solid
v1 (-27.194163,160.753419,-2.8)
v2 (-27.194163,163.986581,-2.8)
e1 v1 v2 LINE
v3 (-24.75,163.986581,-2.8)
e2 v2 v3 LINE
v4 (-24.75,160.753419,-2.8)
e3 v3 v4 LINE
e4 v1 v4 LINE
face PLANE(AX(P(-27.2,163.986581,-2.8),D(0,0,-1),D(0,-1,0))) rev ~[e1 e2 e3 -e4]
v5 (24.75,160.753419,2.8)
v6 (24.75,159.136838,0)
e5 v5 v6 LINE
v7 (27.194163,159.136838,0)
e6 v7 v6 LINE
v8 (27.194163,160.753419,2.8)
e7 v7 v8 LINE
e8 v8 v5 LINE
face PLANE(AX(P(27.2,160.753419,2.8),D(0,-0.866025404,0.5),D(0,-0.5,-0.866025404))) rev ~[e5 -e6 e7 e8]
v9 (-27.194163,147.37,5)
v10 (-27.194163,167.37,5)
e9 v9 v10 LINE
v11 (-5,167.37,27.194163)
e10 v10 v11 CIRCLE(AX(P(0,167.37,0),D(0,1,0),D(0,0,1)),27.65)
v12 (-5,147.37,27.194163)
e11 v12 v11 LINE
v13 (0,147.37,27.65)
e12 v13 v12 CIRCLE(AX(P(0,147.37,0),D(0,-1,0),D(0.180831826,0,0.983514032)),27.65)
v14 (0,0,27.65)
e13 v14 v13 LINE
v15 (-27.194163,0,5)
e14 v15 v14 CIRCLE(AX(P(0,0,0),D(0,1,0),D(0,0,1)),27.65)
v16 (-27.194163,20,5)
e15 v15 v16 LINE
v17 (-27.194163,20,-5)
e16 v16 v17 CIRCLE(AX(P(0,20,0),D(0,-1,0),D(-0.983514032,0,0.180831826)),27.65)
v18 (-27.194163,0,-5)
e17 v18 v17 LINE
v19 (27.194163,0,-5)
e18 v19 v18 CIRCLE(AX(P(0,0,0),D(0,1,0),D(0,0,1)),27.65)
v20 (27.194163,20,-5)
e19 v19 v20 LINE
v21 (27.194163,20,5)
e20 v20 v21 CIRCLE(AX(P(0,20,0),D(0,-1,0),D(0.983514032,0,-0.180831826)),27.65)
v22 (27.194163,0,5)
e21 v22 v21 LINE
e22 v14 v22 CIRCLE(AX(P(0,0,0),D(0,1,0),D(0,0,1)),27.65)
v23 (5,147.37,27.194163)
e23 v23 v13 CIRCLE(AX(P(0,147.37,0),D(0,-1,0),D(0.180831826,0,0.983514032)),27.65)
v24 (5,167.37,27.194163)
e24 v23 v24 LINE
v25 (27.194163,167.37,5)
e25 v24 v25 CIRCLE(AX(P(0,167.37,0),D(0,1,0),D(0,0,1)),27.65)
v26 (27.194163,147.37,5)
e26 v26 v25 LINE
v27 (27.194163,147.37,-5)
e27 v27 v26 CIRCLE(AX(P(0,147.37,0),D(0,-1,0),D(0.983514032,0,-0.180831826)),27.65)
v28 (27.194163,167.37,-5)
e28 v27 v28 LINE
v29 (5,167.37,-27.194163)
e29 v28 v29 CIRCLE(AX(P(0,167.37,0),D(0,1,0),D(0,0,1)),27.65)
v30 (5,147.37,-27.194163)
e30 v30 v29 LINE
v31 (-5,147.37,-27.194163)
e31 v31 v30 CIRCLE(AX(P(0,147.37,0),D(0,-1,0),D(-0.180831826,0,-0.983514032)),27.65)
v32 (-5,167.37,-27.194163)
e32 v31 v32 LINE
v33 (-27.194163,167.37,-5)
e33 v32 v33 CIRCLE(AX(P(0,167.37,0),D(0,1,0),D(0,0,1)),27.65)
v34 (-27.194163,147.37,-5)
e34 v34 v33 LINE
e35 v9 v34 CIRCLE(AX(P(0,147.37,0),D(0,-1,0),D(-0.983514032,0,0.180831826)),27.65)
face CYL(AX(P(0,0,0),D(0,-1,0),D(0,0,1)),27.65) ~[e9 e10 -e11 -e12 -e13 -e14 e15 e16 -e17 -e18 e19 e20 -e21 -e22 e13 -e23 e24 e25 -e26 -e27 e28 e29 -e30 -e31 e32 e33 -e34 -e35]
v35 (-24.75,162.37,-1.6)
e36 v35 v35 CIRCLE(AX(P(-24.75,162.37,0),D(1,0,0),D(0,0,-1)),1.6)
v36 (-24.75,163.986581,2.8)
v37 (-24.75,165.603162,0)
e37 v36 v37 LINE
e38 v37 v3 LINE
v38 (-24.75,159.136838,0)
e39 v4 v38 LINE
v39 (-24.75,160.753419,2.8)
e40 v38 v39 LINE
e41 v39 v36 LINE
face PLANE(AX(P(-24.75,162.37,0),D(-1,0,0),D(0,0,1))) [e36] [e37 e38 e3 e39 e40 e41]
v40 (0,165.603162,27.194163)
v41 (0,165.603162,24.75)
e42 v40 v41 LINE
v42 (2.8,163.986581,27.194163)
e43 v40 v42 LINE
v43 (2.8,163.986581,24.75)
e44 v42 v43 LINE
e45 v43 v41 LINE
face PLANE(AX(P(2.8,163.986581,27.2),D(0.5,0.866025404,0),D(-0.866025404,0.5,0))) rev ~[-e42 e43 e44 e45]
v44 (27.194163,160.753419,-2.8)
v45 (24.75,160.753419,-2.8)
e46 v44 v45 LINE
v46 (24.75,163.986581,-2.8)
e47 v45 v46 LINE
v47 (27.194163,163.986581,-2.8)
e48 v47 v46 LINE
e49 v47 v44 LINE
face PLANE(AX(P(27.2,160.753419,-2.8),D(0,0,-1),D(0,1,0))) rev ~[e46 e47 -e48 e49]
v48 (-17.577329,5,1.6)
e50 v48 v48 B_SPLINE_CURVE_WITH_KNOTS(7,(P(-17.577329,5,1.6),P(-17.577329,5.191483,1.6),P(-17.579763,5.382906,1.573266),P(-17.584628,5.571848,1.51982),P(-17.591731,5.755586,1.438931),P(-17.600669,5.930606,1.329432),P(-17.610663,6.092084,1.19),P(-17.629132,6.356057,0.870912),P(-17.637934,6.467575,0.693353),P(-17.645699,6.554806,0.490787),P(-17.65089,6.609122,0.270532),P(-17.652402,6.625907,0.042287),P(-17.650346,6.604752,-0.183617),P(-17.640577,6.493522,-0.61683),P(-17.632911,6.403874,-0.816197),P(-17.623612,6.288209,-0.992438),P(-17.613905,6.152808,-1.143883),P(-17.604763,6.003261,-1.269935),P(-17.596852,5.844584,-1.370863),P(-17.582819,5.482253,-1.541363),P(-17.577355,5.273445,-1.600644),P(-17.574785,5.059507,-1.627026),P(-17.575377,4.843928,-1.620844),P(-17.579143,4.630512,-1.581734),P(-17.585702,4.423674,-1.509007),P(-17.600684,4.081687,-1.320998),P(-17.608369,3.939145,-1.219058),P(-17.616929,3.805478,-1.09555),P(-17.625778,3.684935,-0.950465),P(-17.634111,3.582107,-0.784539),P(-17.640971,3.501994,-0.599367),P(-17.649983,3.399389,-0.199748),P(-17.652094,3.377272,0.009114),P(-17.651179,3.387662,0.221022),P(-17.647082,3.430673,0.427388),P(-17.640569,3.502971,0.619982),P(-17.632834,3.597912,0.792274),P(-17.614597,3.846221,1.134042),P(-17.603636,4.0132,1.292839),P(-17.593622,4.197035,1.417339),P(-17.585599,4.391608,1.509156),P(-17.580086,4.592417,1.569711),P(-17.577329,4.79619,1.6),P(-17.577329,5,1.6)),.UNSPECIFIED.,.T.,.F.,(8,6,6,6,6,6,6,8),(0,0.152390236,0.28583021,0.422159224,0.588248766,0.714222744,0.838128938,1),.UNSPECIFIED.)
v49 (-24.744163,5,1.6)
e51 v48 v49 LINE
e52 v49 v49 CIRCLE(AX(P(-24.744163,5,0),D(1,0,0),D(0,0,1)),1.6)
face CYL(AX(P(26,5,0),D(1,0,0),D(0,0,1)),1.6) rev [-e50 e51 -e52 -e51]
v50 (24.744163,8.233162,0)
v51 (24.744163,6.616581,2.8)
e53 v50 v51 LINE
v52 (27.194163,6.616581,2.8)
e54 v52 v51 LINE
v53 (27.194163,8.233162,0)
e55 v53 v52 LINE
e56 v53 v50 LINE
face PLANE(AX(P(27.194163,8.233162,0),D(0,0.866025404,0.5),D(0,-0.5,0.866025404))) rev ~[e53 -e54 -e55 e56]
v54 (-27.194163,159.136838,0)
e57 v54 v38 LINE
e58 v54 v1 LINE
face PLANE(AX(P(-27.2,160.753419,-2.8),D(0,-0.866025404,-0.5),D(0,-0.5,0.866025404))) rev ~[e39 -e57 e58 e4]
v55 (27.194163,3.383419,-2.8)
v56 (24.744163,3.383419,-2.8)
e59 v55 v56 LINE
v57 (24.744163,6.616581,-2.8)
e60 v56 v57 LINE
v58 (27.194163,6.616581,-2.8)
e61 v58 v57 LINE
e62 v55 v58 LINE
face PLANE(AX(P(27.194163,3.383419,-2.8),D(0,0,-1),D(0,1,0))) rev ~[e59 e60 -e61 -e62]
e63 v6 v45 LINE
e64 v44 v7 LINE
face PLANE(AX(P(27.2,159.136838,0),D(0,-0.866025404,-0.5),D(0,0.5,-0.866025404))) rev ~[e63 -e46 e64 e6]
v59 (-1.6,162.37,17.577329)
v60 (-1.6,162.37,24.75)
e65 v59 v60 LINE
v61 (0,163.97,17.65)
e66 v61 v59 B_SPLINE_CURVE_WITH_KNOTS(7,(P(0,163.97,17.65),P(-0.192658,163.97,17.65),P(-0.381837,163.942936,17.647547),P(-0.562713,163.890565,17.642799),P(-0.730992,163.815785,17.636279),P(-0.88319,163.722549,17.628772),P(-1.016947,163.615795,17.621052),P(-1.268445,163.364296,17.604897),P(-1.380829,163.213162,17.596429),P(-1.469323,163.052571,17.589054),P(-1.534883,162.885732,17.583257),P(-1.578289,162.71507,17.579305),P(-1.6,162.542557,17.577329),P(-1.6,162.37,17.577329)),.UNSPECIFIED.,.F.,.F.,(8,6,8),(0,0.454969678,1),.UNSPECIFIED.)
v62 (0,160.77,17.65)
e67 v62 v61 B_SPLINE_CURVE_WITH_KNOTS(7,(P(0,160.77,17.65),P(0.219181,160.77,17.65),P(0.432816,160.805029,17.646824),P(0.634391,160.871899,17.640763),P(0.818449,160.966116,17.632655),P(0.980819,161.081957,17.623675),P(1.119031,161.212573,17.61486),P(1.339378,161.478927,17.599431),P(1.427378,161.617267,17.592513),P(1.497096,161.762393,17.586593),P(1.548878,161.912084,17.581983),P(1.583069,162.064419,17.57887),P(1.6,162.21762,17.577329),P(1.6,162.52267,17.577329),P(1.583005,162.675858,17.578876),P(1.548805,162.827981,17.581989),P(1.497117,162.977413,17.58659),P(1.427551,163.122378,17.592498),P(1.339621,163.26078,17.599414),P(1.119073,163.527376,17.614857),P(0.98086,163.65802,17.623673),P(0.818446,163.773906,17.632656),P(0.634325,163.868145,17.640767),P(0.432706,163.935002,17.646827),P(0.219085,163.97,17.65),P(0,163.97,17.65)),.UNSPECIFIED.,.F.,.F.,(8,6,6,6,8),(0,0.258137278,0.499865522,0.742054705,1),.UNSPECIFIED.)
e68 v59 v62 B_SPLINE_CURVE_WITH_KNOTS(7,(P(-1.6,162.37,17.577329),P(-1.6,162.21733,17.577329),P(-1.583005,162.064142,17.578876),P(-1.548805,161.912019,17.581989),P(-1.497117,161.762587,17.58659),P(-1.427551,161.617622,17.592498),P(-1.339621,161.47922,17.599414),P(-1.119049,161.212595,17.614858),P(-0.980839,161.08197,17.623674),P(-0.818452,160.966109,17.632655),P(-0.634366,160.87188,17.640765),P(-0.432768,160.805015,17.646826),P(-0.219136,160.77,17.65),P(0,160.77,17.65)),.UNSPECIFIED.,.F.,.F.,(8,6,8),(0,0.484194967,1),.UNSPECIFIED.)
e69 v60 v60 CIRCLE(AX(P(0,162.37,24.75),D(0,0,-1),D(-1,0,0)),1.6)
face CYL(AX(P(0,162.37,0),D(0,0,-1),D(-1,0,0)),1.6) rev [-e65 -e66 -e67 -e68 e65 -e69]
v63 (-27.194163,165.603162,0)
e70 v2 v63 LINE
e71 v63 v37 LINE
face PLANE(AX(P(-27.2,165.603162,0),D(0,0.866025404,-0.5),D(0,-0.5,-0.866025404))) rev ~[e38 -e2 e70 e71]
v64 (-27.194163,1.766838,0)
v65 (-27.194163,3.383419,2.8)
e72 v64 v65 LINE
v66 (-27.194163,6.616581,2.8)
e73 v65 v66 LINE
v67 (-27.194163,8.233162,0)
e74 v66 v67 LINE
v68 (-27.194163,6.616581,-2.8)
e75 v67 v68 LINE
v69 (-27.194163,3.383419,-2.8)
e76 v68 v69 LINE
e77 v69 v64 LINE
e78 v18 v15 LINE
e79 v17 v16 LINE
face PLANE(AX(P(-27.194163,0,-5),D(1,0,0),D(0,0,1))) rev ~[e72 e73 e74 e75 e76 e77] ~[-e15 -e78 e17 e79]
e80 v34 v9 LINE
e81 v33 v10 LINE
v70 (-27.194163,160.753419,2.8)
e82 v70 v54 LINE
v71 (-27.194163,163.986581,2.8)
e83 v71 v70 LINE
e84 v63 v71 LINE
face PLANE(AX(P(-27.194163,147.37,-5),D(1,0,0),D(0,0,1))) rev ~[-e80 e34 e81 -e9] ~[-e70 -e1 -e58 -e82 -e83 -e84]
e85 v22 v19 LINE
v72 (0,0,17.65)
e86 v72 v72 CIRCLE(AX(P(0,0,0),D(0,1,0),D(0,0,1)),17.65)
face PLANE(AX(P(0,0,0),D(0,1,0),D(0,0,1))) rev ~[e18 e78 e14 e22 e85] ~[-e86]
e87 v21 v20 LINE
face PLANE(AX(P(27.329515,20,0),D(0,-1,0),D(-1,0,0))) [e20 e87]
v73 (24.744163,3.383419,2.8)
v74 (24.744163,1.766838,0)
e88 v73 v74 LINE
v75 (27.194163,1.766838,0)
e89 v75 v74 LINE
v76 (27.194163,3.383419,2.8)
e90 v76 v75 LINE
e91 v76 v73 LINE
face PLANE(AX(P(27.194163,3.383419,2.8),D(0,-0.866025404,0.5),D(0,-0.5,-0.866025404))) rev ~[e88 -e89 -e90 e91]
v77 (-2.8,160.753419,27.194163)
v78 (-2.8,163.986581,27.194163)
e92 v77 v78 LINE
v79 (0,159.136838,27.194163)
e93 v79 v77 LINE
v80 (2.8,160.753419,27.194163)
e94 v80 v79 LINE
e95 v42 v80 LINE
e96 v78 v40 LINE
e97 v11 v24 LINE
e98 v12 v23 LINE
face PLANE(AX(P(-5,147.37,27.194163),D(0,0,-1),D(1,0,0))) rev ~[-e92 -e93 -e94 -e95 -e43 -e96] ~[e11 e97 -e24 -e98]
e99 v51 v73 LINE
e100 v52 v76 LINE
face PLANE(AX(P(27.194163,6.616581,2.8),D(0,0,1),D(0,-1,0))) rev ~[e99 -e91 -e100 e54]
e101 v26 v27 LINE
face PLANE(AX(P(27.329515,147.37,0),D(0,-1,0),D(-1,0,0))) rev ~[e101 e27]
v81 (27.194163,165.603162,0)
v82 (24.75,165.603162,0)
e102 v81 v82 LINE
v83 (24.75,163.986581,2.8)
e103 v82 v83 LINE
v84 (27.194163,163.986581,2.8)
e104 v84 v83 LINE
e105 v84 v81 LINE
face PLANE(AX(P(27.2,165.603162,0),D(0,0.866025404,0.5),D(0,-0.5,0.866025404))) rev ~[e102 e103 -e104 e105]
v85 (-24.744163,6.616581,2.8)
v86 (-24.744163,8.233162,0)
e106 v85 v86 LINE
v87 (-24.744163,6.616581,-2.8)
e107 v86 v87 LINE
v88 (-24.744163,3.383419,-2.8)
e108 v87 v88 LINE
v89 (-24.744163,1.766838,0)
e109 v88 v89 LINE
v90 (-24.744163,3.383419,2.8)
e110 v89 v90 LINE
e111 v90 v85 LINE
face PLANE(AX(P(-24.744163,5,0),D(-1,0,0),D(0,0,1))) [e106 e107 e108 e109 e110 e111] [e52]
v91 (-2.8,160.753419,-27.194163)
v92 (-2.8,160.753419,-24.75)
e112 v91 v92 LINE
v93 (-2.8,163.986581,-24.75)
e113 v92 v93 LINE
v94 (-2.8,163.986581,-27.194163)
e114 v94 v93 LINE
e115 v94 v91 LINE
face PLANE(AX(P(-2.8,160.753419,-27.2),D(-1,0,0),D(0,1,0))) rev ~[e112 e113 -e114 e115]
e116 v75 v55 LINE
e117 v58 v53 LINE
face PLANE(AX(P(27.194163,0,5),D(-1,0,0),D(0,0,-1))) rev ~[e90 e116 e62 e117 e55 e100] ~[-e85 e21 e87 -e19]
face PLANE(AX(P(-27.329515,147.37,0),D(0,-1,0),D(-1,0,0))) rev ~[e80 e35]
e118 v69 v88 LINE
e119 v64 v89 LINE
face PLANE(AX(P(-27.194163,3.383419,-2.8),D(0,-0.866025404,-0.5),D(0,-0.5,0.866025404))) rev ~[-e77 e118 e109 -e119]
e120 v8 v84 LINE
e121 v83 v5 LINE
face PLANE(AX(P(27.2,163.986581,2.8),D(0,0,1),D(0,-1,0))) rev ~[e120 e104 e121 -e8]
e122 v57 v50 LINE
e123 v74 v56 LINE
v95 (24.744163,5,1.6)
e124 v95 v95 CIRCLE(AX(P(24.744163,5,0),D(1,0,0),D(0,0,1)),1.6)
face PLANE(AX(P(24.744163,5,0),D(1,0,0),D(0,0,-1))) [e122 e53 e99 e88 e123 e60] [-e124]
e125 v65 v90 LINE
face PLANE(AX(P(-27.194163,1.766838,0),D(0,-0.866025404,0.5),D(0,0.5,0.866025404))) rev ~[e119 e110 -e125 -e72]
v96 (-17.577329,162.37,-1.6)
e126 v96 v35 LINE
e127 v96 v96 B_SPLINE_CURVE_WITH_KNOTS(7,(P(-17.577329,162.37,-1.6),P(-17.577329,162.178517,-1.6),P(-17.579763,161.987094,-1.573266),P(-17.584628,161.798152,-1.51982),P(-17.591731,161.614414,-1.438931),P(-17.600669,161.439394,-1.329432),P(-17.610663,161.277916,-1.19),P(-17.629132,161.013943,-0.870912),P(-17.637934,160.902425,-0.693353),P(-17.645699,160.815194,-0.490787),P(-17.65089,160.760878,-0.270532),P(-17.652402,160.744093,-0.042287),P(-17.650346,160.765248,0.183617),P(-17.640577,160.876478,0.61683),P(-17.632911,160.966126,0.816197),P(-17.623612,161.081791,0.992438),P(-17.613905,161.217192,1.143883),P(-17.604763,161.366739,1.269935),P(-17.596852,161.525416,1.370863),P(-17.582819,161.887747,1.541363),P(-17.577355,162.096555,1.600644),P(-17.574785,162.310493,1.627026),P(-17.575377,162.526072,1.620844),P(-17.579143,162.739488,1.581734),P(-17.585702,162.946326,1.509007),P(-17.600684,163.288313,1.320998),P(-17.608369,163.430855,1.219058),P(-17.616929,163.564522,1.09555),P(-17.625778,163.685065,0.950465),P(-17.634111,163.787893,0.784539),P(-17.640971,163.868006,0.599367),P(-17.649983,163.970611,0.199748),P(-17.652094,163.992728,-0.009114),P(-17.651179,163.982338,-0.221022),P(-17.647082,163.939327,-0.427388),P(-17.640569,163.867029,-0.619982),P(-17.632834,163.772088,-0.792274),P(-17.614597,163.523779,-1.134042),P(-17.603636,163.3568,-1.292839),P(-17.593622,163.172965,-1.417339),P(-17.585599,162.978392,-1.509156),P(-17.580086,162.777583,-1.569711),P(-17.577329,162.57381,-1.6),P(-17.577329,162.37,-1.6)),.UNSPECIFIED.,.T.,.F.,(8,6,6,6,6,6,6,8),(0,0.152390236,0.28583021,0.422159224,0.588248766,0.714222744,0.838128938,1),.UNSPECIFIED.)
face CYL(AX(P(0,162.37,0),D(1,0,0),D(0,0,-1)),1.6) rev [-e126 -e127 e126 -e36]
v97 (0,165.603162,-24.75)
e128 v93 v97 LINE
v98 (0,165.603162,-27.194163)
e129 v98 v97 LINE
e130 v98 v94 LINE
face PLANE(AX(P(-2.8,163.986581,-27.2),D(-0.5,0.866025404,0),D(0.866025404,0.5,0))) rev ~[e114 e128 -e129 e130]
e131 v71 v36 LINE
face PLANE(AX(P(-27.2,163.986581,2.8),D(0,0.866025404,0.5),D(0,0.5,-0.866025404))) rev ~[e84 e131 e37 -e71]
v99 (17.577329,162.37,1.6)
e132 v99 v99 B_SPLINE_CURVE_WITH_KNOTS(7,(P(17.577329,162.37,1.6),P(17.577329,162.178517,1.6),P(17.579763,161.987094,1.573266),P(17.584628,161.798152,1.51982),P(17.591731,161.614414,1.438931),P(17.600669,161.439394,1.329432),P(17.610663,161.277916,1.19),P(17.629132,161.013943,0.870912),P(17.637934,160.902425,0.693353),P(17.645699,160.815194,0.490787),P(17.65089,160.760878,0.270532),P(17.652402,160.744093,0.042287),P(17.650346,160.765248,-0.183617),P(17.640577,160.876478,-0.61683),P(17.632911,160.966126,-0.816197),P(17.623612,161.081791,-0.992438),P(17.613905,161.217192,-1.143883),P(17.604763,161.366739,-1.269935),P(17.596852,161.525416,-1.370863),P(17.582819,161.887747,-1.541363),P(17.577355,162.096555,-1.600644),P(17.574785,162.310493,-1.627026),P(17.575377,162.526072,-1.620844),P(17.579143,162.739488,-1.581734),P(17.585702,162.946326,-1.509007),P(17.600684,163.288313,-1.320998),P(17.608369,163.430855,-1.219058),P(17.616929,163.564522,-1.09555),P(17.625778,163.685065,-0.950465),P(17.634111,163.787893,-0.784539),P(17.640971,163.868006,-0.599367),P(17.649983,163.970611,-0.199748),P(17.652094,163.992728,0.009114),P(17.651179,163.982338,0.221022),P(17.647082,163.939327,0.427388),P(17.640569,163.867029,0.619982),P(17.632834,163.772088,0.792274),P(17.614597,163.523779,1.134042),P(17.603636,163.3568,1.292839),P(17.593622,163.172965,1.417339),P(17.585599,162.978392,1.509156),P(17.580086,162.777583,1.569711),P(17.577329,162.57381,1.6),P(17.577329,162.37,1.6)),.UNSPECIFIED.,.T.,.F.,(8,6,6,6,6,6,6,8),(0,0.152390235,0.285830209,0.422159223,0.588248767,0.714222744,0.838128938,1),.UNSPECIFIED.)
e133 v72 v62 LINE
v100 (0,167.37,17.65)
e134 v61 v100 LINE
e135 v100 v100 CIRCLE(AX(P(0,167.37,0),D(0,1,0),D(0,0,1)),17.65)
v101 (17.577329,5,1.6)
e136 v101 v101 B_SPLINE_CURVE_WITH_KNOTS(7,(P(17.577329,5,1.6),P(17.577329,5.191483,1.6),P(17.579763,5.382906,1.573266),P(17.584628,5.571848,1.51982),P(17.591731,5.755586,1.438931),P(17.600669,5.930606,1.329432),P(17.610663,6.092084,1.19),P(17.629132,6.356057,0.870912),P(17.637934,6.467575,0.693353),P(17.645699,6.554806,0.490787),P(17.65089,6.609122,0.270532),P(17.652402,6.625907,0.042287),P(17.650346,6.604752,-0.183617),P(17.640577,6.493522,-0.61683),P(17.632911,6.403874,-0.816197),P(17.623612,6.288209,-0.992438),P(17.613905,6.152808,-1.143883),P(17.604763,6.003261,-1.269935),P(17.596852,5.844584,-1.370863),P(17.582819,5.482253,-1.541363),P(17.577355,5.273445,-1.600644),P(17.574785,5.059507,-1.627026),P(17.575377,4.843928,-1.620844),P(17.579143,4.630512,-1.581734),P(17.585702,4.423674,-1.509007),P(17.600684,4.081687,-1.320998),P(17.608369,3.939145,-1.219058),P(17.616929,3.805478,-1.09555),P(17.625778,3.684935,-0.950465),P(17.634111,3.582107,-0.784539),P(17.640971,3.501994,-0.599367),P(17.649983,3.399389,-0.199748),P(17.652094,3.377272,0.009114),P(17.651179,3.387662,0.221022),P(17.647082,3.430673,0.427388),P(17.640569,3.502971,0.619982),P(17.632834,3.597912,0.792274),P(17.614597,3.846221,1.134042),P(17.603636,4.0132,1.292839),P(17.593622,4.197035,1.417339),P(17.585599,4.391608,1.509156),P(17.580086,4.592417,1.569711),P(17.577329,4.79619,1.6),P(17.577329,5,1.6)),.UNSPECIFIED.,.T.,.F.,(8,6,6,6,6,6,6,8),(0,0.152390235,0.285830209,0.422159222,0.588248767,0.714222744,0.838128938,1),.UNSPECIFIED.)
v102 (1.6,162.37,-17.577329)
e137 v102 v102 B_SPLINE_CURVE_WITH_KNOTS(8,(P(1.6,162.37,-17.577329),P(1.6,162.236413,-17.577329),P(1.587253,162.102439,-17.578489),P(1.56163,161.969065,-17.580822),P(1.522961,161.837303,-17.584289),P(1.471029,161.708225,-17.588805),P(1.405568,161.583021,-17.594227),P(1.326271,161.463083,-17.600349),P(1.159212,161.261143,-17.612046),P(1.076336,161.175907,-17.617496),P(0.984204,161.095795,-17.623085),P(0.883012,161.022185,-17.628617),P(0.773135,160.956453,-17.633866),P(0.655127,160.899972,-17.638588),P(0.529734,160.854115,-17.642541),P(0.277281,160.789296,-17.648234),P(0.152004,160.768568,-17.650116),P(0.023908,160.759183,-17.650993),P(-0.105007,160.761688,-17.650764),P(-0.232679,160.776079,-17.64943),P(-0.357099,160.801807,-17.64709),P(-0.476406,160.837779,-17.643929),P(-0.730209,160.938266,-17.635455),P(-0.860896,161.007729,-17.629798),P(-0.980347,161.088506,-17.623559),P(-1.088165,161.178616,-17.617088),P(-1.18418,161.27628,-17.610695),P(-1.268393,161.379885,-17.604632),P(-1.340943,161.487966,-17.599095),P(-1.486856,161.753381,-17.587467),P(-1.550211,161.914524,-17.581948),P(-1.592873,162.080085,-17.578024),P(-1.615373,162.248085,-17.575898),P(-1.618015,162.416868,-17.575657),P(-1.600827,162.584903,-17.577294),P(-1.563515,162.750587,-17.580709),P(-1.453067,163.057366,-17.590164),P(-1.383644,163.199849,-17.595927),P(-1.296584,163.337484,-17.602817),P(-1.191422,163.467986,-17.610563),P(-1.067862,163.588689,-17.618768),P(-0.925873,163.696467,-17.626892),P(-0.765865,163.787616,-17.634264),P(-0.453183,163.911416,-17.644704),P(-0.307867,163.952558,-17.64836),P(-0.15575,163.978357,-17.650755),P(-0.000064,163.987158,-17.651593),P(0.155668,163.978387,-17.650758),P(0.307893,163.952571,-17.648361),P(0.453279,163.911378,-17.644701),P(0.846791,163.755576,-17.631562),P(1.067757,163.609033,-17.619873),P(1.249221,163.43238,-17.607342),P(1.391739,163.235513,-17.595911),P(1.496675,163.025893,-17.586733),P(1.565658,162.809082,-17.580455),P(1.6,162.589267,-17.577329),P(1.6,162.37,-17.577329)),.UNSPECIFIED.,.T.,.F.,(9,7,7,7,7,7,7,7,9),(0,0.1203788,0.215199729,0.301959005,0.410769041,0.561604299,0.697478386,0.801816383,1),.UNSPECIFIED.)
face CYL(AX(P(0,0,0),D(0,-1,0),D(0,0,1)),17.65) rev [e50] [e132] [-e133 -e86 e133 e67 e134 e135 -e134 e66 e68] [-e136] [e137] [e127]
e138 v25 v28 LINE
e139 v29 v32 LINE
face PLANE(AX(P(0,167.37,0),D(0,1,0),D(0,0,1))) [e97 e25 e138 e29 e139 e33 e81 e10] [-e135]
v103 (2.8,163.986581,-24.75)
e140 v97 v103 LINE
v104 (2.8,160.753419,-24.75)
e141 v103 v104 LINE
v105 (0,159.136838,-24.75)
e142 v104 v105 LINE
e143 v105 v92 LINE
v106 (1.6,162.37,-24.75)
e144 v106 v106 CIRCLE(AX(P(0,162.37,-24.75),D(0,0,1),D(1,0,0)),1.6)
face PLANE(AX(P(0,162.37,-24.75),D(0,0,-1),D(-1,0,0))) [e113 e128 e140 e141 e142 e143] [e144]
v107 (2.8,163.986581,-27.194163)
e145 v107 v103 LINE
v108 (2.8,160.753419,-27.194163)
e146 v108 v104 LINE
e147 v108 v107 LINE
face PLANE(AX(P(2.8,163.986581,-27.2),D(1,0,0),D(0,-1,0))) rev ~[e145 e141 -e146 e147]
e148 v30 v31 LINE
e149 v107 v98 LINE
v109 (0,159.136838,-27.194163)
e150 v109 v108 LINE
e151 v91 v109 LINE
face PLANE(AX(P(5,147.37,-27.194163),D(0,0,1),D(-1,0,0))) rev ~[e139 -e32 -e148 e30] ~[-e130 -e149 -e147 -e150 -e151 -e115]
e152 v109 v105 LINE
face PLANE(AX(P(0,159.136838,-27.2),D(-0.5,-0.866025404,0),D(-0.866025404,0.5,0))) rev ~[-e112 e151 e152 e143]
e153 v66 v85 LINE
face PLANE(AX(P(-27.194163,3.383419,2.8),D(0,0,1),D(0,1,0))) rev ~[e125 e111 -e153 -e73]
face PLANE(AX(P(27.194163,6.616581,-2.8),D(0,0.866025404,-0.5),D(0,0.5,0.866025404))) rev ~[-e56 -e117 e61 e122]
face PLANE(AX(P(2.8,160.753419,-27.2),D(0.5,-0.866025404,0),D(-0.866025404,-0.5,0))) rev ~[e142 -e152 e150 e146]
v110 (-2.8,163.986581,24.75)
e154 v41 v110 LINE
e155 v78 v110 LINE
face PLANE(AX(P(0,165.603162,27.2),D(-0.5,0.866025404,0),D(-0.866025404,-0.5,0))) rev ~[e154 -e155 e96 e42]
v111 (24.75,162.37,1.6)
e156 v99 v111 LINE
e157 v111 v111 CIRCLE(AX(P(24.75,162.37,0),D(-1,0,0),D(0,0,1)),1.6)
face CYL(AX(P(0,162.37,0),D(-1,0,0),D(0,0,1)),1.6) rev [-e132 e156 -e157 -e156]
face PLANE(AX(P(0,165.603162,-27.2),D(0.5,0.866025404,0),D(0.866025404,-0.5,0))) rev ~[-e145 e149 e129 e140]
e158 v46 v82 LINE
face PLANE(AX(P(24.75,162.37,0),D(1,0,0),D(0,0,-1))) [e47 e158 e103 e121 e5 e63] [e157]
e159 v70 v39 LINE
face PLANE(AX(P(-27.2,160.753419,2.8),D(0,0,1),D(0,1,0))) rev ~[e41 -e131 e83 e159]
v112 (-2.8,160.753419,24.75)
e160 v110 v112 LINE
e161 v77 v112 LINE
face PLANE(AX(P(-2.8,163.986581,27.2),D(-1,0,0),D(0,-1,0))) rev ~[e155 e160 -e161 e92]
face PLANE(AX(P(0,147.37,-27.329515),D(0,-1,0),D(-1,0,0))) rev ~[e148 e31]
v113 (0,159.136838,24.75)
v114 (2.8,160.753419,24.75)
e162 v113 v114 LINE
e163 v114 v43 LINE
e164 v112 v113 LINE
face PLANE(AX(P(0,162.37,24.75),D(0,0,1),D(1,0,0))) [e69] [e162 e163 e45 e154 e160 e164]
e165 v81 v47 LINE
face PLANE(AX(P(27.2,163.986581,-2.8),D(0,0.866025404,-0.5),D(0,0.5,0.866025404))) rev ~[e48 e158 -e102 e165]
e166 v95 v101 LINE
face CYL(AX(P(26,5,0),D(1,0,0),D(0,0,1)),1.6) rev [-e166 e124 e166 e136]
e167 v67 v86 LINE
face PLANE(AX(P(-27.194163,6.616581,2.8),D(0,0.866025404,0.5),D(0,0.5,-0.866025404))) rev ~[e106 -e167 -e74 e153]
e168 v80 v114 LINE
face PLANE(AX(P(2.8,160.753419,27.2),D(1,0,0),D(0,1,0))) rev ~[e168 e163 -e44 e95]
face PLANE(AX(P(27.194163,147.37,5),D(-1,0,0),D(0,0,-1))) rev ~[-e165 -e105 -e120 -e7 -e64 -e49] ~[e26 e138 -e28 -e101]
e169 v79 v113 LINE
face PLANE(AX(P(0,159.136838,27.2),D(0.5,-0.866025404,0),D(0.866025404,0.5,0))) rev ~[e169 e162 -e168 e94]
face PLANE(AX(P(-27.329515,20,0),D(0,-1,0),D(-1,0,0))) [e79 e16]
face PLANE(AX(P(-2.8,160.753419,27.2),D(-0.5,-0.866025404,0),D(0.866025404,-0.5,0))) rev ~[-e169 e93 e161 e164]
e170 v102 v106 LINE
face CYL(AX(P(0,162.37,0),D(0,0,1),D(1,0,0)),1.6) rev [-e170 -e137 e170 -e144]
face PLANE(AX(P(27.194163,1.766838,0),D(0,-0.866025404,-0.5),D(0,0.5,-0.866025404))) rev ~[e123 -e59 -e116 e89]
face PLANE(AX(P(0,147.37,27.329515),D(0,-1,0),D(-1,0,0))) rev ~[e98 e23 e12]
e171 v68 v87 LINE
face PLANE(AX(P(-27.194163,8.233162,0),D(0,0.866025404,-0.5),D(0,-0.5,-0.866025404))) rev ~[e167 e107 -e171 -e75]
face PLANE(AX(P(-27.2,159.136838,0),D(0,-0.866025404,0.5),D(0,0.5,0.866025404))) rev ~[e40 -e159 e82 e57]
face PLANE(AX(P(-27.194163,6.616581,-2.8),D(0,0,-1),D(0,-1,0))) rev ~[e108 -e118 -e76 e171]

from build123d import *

# Parameters (mm, degrees)
SKETCH_1_R               = 27.65
SKETCH_1_R_2             = 17.65
EXTRUDE_1_DEPTH          = 167.37
CUT_EXTRUDE_1_DEPTH      = 20
CUT_EXTRUDE_START        = 147.37
CUT_EXTRUDE_2_DEPTH      = 20
CUT_EXTRUDE_4_DEPTH      = 26
CUT_EXTRUDE_4_DEPTH_BACK = 26
SKETCH_5_R               = 1.6
CUT_EXTRUDE_START_2      = 27.194163
CUT_EXTRUDE_3_DEPTH      = 2.45
CUT_EXTRUDE_5_DEPTH      = 2.45
CUT_EXTRUDE_START_3      = 27.2
CUT_EXTRUDE_6_DEPTH      = 2.45
PATTERN_CIRCULAR_2_COUNT = 4
SKETCH_8_R               = 1.6
CUT_EXTRUDE_7_DEPTH      = 32.4
PATTERN_CIRCULAR_3_COUNT = 4


with BuildPart() as part:
    # 草图1 → 凸台-拉伸1 (new body)
    with BuildSketch(Plane(origin=(0, 0, 0), x_dir=(1, 0, 0), z_dir=(0, 1, 0))):
        with Locations(Location((0, 0, 0), (0, 0, 270))):
            Circle(SKETCH_1_R)
        with Locations(Location((0, 0, 0), (0, 0, 270))):
            Circle(SKETCH_1_R_2, mode=Mode.SUBTRACT)
    extrude(amount=EXTRUDE_1_DEPTH)

    # 草图2 → 切除-拉伸1 (cut)
    with BuildSketch(Plane(origin=(0, 0, 0), x_dir=(1, 0, 0), z_dir=(0, 1, 0))):
        with BuildLine():
            Line((-27.194162977, 5), (-27.194162977, -5))
            ThreePointArc((-27.194162977, -5), (-27.65, 0), (-27.194162977, 5))
        make_face()
        with BuildLine():
            Line((27.194162977, -5), (27.194162977, 5))
            ThreePointArc((27.194162977, 5), (27.65, 0), (27.194162977, -5))
        make_face()
    extrude(amount=CUT_EXTRUDE_1_DEPTH, mode=Mode.SUBTRACT)

    # 草图3 → 切除-拉伸2 (cut)
    with BuildSketch(Plane(origin=(0, 0, 0), x_dir=(1, 0, 0), z_dir=(0, 1, 0)).offset(CUT_EXTRUDE_START)):
        with BuildLine():
            Line((-27.194162977, 5), (-27.194162977, -5))
            ThreePointArc((-27.194162977, -5), (-27.65, 0), (-27.194162977, 5))
        make_face()
        with BuildLine():
            Line((-5, -27.194162977), (5, -27.194162977))
            ThreePointArc((5, -27.194162977), (0, -27.65), (-5, -27.194162977))
        make_face()
        with BuildLine():
            Line((27.194162977, -5), (27.194162977, 5))
            ThreePointArc((27.194162977, 5), (27.65, 0), (27.194162977, -5))
        make_face()
        with BuildLine():
            Line((5, 27.194162977), (-5, 27.194162977))
            ThreePointArc((-5, 27.194162977), (0, 27.65), (5, 27.194162977))
        make_face()
    extrude(amount=CUT_EXTRUDE_2_DEPTH, mode=Mode.SUBTRACT)

    # 草图5 → 切除-拉伸4 (cut, two sides: drawn at the far end of the back side and taken through both)
    with BuildSketch(Plane.ZY.offset(-CUT_EXTRUDE_4_DEPTH_BACK)):
        with Locations((0, 5)):
            Circle(SKETCH_5_R)
    extrude(amount=CUT_EXTRUDE_4_DEPTH + CUT_EXTRUDE_4_DEPTH_BACK, mode=Mode.SUBTRACT)

    # 草图4 → 切除-拉伸3 (cut)
    with BuildSketch(Plane.ZY.offset(CUT_EXTRUDE_START_2)):
        Polygon((0, 8.233161507), (-2.8, 6.616580754), (-2.8, 3.383419246), (0, 1.766838493), (2.8, 3.383419246), (2.8, 6.616580754), align=None)
    extrude(amount=-CUT_EXTRUDE_3_DEPTH, mode=Mode.SUBTRACT)

    # 草图6 → 切除-拉伸5 (cut)
    with BuildSketch(Plane(origin=(0, 0, 0), x_dir=(0, 0, -1), z_dir=(1, 0, 0)).offset(CUT_EXTRUDE_START_2)):
        Polygon((0, 8.233161507), (-2.8, 6.616580754), (-2.8, 3.383419246), (0, 1.766838493), (2.8, 3.383419246), (2.8, 6.616580754), align=None)
    extrude(amount=-CUT_EXTRUDE_5_DEPTH, mode=Mode.SUBTRACT)

    # 草图7 → 切除-拉伸6 (cut)
    with BuildSketch(Plane(origin=(0, 0, 0), x_dir=(0, 0, -1), z_dir=(1, 0, 0)).offset(CUT_EXTRUDE_START_3)):
        Polygon((0, 165.603161507), (-2.8, 163.986580754), (-2.8, 160.753419246), (0, 159.136838493), (2.8, 160.753419246), (2.8, 163.986580754), align=None)
    cut_extrude_6 = extrude(amount=-CUT_EXTRUDE_6_DEPTH, mode=Mode.SUBTRACT)

    # 阵列(圆周)2: 切除-拉伸6 ×4 about axis
    pattern_circular_2_axis = Axis((0, 0, 0), (0, 1, 0))
    for i in range(1, PATTERN_CIRCULAR_2_COUNT):
        add(cut_extrude_6.rotate(pattern_circular_2_axis, i * 360 / PATTERN_CIRCULAR_2_COUNT), mode=Mode.SUBTRACT)

    # 草图8 → 切除-拉伸7 (cut)
    with BuildSketch(Plane(origin=(0, 0, 0), x_dir=(0, 0, -1), z_dir=(1, 0, 0))):
        with Locations(Location((0, 162.37, 0), (0, 0, 180))):
            Circle(SKETCH_8_R)
    cut_extrude_7 = extrude(amount=CUT_EXTRUDE_7_DEPTH, mode=Mode.SUBTRACT)

    # 阵列(圆周)3: 切除-拉伸7 ×4 about axis
    pattern_circular_3_axis = Axis((0, 167.37, 0), (0, -1, 0))
    for i in range(1, PATTERN_CIRCULAR_3_COUNT):
        add(cut_extrude_7.rotate(pattern_circular_3_axis, i * 360 / PATTERN_CIRCULAR_3_COUNT), mode=Mode.SUBTRACT)


solid = part.part
